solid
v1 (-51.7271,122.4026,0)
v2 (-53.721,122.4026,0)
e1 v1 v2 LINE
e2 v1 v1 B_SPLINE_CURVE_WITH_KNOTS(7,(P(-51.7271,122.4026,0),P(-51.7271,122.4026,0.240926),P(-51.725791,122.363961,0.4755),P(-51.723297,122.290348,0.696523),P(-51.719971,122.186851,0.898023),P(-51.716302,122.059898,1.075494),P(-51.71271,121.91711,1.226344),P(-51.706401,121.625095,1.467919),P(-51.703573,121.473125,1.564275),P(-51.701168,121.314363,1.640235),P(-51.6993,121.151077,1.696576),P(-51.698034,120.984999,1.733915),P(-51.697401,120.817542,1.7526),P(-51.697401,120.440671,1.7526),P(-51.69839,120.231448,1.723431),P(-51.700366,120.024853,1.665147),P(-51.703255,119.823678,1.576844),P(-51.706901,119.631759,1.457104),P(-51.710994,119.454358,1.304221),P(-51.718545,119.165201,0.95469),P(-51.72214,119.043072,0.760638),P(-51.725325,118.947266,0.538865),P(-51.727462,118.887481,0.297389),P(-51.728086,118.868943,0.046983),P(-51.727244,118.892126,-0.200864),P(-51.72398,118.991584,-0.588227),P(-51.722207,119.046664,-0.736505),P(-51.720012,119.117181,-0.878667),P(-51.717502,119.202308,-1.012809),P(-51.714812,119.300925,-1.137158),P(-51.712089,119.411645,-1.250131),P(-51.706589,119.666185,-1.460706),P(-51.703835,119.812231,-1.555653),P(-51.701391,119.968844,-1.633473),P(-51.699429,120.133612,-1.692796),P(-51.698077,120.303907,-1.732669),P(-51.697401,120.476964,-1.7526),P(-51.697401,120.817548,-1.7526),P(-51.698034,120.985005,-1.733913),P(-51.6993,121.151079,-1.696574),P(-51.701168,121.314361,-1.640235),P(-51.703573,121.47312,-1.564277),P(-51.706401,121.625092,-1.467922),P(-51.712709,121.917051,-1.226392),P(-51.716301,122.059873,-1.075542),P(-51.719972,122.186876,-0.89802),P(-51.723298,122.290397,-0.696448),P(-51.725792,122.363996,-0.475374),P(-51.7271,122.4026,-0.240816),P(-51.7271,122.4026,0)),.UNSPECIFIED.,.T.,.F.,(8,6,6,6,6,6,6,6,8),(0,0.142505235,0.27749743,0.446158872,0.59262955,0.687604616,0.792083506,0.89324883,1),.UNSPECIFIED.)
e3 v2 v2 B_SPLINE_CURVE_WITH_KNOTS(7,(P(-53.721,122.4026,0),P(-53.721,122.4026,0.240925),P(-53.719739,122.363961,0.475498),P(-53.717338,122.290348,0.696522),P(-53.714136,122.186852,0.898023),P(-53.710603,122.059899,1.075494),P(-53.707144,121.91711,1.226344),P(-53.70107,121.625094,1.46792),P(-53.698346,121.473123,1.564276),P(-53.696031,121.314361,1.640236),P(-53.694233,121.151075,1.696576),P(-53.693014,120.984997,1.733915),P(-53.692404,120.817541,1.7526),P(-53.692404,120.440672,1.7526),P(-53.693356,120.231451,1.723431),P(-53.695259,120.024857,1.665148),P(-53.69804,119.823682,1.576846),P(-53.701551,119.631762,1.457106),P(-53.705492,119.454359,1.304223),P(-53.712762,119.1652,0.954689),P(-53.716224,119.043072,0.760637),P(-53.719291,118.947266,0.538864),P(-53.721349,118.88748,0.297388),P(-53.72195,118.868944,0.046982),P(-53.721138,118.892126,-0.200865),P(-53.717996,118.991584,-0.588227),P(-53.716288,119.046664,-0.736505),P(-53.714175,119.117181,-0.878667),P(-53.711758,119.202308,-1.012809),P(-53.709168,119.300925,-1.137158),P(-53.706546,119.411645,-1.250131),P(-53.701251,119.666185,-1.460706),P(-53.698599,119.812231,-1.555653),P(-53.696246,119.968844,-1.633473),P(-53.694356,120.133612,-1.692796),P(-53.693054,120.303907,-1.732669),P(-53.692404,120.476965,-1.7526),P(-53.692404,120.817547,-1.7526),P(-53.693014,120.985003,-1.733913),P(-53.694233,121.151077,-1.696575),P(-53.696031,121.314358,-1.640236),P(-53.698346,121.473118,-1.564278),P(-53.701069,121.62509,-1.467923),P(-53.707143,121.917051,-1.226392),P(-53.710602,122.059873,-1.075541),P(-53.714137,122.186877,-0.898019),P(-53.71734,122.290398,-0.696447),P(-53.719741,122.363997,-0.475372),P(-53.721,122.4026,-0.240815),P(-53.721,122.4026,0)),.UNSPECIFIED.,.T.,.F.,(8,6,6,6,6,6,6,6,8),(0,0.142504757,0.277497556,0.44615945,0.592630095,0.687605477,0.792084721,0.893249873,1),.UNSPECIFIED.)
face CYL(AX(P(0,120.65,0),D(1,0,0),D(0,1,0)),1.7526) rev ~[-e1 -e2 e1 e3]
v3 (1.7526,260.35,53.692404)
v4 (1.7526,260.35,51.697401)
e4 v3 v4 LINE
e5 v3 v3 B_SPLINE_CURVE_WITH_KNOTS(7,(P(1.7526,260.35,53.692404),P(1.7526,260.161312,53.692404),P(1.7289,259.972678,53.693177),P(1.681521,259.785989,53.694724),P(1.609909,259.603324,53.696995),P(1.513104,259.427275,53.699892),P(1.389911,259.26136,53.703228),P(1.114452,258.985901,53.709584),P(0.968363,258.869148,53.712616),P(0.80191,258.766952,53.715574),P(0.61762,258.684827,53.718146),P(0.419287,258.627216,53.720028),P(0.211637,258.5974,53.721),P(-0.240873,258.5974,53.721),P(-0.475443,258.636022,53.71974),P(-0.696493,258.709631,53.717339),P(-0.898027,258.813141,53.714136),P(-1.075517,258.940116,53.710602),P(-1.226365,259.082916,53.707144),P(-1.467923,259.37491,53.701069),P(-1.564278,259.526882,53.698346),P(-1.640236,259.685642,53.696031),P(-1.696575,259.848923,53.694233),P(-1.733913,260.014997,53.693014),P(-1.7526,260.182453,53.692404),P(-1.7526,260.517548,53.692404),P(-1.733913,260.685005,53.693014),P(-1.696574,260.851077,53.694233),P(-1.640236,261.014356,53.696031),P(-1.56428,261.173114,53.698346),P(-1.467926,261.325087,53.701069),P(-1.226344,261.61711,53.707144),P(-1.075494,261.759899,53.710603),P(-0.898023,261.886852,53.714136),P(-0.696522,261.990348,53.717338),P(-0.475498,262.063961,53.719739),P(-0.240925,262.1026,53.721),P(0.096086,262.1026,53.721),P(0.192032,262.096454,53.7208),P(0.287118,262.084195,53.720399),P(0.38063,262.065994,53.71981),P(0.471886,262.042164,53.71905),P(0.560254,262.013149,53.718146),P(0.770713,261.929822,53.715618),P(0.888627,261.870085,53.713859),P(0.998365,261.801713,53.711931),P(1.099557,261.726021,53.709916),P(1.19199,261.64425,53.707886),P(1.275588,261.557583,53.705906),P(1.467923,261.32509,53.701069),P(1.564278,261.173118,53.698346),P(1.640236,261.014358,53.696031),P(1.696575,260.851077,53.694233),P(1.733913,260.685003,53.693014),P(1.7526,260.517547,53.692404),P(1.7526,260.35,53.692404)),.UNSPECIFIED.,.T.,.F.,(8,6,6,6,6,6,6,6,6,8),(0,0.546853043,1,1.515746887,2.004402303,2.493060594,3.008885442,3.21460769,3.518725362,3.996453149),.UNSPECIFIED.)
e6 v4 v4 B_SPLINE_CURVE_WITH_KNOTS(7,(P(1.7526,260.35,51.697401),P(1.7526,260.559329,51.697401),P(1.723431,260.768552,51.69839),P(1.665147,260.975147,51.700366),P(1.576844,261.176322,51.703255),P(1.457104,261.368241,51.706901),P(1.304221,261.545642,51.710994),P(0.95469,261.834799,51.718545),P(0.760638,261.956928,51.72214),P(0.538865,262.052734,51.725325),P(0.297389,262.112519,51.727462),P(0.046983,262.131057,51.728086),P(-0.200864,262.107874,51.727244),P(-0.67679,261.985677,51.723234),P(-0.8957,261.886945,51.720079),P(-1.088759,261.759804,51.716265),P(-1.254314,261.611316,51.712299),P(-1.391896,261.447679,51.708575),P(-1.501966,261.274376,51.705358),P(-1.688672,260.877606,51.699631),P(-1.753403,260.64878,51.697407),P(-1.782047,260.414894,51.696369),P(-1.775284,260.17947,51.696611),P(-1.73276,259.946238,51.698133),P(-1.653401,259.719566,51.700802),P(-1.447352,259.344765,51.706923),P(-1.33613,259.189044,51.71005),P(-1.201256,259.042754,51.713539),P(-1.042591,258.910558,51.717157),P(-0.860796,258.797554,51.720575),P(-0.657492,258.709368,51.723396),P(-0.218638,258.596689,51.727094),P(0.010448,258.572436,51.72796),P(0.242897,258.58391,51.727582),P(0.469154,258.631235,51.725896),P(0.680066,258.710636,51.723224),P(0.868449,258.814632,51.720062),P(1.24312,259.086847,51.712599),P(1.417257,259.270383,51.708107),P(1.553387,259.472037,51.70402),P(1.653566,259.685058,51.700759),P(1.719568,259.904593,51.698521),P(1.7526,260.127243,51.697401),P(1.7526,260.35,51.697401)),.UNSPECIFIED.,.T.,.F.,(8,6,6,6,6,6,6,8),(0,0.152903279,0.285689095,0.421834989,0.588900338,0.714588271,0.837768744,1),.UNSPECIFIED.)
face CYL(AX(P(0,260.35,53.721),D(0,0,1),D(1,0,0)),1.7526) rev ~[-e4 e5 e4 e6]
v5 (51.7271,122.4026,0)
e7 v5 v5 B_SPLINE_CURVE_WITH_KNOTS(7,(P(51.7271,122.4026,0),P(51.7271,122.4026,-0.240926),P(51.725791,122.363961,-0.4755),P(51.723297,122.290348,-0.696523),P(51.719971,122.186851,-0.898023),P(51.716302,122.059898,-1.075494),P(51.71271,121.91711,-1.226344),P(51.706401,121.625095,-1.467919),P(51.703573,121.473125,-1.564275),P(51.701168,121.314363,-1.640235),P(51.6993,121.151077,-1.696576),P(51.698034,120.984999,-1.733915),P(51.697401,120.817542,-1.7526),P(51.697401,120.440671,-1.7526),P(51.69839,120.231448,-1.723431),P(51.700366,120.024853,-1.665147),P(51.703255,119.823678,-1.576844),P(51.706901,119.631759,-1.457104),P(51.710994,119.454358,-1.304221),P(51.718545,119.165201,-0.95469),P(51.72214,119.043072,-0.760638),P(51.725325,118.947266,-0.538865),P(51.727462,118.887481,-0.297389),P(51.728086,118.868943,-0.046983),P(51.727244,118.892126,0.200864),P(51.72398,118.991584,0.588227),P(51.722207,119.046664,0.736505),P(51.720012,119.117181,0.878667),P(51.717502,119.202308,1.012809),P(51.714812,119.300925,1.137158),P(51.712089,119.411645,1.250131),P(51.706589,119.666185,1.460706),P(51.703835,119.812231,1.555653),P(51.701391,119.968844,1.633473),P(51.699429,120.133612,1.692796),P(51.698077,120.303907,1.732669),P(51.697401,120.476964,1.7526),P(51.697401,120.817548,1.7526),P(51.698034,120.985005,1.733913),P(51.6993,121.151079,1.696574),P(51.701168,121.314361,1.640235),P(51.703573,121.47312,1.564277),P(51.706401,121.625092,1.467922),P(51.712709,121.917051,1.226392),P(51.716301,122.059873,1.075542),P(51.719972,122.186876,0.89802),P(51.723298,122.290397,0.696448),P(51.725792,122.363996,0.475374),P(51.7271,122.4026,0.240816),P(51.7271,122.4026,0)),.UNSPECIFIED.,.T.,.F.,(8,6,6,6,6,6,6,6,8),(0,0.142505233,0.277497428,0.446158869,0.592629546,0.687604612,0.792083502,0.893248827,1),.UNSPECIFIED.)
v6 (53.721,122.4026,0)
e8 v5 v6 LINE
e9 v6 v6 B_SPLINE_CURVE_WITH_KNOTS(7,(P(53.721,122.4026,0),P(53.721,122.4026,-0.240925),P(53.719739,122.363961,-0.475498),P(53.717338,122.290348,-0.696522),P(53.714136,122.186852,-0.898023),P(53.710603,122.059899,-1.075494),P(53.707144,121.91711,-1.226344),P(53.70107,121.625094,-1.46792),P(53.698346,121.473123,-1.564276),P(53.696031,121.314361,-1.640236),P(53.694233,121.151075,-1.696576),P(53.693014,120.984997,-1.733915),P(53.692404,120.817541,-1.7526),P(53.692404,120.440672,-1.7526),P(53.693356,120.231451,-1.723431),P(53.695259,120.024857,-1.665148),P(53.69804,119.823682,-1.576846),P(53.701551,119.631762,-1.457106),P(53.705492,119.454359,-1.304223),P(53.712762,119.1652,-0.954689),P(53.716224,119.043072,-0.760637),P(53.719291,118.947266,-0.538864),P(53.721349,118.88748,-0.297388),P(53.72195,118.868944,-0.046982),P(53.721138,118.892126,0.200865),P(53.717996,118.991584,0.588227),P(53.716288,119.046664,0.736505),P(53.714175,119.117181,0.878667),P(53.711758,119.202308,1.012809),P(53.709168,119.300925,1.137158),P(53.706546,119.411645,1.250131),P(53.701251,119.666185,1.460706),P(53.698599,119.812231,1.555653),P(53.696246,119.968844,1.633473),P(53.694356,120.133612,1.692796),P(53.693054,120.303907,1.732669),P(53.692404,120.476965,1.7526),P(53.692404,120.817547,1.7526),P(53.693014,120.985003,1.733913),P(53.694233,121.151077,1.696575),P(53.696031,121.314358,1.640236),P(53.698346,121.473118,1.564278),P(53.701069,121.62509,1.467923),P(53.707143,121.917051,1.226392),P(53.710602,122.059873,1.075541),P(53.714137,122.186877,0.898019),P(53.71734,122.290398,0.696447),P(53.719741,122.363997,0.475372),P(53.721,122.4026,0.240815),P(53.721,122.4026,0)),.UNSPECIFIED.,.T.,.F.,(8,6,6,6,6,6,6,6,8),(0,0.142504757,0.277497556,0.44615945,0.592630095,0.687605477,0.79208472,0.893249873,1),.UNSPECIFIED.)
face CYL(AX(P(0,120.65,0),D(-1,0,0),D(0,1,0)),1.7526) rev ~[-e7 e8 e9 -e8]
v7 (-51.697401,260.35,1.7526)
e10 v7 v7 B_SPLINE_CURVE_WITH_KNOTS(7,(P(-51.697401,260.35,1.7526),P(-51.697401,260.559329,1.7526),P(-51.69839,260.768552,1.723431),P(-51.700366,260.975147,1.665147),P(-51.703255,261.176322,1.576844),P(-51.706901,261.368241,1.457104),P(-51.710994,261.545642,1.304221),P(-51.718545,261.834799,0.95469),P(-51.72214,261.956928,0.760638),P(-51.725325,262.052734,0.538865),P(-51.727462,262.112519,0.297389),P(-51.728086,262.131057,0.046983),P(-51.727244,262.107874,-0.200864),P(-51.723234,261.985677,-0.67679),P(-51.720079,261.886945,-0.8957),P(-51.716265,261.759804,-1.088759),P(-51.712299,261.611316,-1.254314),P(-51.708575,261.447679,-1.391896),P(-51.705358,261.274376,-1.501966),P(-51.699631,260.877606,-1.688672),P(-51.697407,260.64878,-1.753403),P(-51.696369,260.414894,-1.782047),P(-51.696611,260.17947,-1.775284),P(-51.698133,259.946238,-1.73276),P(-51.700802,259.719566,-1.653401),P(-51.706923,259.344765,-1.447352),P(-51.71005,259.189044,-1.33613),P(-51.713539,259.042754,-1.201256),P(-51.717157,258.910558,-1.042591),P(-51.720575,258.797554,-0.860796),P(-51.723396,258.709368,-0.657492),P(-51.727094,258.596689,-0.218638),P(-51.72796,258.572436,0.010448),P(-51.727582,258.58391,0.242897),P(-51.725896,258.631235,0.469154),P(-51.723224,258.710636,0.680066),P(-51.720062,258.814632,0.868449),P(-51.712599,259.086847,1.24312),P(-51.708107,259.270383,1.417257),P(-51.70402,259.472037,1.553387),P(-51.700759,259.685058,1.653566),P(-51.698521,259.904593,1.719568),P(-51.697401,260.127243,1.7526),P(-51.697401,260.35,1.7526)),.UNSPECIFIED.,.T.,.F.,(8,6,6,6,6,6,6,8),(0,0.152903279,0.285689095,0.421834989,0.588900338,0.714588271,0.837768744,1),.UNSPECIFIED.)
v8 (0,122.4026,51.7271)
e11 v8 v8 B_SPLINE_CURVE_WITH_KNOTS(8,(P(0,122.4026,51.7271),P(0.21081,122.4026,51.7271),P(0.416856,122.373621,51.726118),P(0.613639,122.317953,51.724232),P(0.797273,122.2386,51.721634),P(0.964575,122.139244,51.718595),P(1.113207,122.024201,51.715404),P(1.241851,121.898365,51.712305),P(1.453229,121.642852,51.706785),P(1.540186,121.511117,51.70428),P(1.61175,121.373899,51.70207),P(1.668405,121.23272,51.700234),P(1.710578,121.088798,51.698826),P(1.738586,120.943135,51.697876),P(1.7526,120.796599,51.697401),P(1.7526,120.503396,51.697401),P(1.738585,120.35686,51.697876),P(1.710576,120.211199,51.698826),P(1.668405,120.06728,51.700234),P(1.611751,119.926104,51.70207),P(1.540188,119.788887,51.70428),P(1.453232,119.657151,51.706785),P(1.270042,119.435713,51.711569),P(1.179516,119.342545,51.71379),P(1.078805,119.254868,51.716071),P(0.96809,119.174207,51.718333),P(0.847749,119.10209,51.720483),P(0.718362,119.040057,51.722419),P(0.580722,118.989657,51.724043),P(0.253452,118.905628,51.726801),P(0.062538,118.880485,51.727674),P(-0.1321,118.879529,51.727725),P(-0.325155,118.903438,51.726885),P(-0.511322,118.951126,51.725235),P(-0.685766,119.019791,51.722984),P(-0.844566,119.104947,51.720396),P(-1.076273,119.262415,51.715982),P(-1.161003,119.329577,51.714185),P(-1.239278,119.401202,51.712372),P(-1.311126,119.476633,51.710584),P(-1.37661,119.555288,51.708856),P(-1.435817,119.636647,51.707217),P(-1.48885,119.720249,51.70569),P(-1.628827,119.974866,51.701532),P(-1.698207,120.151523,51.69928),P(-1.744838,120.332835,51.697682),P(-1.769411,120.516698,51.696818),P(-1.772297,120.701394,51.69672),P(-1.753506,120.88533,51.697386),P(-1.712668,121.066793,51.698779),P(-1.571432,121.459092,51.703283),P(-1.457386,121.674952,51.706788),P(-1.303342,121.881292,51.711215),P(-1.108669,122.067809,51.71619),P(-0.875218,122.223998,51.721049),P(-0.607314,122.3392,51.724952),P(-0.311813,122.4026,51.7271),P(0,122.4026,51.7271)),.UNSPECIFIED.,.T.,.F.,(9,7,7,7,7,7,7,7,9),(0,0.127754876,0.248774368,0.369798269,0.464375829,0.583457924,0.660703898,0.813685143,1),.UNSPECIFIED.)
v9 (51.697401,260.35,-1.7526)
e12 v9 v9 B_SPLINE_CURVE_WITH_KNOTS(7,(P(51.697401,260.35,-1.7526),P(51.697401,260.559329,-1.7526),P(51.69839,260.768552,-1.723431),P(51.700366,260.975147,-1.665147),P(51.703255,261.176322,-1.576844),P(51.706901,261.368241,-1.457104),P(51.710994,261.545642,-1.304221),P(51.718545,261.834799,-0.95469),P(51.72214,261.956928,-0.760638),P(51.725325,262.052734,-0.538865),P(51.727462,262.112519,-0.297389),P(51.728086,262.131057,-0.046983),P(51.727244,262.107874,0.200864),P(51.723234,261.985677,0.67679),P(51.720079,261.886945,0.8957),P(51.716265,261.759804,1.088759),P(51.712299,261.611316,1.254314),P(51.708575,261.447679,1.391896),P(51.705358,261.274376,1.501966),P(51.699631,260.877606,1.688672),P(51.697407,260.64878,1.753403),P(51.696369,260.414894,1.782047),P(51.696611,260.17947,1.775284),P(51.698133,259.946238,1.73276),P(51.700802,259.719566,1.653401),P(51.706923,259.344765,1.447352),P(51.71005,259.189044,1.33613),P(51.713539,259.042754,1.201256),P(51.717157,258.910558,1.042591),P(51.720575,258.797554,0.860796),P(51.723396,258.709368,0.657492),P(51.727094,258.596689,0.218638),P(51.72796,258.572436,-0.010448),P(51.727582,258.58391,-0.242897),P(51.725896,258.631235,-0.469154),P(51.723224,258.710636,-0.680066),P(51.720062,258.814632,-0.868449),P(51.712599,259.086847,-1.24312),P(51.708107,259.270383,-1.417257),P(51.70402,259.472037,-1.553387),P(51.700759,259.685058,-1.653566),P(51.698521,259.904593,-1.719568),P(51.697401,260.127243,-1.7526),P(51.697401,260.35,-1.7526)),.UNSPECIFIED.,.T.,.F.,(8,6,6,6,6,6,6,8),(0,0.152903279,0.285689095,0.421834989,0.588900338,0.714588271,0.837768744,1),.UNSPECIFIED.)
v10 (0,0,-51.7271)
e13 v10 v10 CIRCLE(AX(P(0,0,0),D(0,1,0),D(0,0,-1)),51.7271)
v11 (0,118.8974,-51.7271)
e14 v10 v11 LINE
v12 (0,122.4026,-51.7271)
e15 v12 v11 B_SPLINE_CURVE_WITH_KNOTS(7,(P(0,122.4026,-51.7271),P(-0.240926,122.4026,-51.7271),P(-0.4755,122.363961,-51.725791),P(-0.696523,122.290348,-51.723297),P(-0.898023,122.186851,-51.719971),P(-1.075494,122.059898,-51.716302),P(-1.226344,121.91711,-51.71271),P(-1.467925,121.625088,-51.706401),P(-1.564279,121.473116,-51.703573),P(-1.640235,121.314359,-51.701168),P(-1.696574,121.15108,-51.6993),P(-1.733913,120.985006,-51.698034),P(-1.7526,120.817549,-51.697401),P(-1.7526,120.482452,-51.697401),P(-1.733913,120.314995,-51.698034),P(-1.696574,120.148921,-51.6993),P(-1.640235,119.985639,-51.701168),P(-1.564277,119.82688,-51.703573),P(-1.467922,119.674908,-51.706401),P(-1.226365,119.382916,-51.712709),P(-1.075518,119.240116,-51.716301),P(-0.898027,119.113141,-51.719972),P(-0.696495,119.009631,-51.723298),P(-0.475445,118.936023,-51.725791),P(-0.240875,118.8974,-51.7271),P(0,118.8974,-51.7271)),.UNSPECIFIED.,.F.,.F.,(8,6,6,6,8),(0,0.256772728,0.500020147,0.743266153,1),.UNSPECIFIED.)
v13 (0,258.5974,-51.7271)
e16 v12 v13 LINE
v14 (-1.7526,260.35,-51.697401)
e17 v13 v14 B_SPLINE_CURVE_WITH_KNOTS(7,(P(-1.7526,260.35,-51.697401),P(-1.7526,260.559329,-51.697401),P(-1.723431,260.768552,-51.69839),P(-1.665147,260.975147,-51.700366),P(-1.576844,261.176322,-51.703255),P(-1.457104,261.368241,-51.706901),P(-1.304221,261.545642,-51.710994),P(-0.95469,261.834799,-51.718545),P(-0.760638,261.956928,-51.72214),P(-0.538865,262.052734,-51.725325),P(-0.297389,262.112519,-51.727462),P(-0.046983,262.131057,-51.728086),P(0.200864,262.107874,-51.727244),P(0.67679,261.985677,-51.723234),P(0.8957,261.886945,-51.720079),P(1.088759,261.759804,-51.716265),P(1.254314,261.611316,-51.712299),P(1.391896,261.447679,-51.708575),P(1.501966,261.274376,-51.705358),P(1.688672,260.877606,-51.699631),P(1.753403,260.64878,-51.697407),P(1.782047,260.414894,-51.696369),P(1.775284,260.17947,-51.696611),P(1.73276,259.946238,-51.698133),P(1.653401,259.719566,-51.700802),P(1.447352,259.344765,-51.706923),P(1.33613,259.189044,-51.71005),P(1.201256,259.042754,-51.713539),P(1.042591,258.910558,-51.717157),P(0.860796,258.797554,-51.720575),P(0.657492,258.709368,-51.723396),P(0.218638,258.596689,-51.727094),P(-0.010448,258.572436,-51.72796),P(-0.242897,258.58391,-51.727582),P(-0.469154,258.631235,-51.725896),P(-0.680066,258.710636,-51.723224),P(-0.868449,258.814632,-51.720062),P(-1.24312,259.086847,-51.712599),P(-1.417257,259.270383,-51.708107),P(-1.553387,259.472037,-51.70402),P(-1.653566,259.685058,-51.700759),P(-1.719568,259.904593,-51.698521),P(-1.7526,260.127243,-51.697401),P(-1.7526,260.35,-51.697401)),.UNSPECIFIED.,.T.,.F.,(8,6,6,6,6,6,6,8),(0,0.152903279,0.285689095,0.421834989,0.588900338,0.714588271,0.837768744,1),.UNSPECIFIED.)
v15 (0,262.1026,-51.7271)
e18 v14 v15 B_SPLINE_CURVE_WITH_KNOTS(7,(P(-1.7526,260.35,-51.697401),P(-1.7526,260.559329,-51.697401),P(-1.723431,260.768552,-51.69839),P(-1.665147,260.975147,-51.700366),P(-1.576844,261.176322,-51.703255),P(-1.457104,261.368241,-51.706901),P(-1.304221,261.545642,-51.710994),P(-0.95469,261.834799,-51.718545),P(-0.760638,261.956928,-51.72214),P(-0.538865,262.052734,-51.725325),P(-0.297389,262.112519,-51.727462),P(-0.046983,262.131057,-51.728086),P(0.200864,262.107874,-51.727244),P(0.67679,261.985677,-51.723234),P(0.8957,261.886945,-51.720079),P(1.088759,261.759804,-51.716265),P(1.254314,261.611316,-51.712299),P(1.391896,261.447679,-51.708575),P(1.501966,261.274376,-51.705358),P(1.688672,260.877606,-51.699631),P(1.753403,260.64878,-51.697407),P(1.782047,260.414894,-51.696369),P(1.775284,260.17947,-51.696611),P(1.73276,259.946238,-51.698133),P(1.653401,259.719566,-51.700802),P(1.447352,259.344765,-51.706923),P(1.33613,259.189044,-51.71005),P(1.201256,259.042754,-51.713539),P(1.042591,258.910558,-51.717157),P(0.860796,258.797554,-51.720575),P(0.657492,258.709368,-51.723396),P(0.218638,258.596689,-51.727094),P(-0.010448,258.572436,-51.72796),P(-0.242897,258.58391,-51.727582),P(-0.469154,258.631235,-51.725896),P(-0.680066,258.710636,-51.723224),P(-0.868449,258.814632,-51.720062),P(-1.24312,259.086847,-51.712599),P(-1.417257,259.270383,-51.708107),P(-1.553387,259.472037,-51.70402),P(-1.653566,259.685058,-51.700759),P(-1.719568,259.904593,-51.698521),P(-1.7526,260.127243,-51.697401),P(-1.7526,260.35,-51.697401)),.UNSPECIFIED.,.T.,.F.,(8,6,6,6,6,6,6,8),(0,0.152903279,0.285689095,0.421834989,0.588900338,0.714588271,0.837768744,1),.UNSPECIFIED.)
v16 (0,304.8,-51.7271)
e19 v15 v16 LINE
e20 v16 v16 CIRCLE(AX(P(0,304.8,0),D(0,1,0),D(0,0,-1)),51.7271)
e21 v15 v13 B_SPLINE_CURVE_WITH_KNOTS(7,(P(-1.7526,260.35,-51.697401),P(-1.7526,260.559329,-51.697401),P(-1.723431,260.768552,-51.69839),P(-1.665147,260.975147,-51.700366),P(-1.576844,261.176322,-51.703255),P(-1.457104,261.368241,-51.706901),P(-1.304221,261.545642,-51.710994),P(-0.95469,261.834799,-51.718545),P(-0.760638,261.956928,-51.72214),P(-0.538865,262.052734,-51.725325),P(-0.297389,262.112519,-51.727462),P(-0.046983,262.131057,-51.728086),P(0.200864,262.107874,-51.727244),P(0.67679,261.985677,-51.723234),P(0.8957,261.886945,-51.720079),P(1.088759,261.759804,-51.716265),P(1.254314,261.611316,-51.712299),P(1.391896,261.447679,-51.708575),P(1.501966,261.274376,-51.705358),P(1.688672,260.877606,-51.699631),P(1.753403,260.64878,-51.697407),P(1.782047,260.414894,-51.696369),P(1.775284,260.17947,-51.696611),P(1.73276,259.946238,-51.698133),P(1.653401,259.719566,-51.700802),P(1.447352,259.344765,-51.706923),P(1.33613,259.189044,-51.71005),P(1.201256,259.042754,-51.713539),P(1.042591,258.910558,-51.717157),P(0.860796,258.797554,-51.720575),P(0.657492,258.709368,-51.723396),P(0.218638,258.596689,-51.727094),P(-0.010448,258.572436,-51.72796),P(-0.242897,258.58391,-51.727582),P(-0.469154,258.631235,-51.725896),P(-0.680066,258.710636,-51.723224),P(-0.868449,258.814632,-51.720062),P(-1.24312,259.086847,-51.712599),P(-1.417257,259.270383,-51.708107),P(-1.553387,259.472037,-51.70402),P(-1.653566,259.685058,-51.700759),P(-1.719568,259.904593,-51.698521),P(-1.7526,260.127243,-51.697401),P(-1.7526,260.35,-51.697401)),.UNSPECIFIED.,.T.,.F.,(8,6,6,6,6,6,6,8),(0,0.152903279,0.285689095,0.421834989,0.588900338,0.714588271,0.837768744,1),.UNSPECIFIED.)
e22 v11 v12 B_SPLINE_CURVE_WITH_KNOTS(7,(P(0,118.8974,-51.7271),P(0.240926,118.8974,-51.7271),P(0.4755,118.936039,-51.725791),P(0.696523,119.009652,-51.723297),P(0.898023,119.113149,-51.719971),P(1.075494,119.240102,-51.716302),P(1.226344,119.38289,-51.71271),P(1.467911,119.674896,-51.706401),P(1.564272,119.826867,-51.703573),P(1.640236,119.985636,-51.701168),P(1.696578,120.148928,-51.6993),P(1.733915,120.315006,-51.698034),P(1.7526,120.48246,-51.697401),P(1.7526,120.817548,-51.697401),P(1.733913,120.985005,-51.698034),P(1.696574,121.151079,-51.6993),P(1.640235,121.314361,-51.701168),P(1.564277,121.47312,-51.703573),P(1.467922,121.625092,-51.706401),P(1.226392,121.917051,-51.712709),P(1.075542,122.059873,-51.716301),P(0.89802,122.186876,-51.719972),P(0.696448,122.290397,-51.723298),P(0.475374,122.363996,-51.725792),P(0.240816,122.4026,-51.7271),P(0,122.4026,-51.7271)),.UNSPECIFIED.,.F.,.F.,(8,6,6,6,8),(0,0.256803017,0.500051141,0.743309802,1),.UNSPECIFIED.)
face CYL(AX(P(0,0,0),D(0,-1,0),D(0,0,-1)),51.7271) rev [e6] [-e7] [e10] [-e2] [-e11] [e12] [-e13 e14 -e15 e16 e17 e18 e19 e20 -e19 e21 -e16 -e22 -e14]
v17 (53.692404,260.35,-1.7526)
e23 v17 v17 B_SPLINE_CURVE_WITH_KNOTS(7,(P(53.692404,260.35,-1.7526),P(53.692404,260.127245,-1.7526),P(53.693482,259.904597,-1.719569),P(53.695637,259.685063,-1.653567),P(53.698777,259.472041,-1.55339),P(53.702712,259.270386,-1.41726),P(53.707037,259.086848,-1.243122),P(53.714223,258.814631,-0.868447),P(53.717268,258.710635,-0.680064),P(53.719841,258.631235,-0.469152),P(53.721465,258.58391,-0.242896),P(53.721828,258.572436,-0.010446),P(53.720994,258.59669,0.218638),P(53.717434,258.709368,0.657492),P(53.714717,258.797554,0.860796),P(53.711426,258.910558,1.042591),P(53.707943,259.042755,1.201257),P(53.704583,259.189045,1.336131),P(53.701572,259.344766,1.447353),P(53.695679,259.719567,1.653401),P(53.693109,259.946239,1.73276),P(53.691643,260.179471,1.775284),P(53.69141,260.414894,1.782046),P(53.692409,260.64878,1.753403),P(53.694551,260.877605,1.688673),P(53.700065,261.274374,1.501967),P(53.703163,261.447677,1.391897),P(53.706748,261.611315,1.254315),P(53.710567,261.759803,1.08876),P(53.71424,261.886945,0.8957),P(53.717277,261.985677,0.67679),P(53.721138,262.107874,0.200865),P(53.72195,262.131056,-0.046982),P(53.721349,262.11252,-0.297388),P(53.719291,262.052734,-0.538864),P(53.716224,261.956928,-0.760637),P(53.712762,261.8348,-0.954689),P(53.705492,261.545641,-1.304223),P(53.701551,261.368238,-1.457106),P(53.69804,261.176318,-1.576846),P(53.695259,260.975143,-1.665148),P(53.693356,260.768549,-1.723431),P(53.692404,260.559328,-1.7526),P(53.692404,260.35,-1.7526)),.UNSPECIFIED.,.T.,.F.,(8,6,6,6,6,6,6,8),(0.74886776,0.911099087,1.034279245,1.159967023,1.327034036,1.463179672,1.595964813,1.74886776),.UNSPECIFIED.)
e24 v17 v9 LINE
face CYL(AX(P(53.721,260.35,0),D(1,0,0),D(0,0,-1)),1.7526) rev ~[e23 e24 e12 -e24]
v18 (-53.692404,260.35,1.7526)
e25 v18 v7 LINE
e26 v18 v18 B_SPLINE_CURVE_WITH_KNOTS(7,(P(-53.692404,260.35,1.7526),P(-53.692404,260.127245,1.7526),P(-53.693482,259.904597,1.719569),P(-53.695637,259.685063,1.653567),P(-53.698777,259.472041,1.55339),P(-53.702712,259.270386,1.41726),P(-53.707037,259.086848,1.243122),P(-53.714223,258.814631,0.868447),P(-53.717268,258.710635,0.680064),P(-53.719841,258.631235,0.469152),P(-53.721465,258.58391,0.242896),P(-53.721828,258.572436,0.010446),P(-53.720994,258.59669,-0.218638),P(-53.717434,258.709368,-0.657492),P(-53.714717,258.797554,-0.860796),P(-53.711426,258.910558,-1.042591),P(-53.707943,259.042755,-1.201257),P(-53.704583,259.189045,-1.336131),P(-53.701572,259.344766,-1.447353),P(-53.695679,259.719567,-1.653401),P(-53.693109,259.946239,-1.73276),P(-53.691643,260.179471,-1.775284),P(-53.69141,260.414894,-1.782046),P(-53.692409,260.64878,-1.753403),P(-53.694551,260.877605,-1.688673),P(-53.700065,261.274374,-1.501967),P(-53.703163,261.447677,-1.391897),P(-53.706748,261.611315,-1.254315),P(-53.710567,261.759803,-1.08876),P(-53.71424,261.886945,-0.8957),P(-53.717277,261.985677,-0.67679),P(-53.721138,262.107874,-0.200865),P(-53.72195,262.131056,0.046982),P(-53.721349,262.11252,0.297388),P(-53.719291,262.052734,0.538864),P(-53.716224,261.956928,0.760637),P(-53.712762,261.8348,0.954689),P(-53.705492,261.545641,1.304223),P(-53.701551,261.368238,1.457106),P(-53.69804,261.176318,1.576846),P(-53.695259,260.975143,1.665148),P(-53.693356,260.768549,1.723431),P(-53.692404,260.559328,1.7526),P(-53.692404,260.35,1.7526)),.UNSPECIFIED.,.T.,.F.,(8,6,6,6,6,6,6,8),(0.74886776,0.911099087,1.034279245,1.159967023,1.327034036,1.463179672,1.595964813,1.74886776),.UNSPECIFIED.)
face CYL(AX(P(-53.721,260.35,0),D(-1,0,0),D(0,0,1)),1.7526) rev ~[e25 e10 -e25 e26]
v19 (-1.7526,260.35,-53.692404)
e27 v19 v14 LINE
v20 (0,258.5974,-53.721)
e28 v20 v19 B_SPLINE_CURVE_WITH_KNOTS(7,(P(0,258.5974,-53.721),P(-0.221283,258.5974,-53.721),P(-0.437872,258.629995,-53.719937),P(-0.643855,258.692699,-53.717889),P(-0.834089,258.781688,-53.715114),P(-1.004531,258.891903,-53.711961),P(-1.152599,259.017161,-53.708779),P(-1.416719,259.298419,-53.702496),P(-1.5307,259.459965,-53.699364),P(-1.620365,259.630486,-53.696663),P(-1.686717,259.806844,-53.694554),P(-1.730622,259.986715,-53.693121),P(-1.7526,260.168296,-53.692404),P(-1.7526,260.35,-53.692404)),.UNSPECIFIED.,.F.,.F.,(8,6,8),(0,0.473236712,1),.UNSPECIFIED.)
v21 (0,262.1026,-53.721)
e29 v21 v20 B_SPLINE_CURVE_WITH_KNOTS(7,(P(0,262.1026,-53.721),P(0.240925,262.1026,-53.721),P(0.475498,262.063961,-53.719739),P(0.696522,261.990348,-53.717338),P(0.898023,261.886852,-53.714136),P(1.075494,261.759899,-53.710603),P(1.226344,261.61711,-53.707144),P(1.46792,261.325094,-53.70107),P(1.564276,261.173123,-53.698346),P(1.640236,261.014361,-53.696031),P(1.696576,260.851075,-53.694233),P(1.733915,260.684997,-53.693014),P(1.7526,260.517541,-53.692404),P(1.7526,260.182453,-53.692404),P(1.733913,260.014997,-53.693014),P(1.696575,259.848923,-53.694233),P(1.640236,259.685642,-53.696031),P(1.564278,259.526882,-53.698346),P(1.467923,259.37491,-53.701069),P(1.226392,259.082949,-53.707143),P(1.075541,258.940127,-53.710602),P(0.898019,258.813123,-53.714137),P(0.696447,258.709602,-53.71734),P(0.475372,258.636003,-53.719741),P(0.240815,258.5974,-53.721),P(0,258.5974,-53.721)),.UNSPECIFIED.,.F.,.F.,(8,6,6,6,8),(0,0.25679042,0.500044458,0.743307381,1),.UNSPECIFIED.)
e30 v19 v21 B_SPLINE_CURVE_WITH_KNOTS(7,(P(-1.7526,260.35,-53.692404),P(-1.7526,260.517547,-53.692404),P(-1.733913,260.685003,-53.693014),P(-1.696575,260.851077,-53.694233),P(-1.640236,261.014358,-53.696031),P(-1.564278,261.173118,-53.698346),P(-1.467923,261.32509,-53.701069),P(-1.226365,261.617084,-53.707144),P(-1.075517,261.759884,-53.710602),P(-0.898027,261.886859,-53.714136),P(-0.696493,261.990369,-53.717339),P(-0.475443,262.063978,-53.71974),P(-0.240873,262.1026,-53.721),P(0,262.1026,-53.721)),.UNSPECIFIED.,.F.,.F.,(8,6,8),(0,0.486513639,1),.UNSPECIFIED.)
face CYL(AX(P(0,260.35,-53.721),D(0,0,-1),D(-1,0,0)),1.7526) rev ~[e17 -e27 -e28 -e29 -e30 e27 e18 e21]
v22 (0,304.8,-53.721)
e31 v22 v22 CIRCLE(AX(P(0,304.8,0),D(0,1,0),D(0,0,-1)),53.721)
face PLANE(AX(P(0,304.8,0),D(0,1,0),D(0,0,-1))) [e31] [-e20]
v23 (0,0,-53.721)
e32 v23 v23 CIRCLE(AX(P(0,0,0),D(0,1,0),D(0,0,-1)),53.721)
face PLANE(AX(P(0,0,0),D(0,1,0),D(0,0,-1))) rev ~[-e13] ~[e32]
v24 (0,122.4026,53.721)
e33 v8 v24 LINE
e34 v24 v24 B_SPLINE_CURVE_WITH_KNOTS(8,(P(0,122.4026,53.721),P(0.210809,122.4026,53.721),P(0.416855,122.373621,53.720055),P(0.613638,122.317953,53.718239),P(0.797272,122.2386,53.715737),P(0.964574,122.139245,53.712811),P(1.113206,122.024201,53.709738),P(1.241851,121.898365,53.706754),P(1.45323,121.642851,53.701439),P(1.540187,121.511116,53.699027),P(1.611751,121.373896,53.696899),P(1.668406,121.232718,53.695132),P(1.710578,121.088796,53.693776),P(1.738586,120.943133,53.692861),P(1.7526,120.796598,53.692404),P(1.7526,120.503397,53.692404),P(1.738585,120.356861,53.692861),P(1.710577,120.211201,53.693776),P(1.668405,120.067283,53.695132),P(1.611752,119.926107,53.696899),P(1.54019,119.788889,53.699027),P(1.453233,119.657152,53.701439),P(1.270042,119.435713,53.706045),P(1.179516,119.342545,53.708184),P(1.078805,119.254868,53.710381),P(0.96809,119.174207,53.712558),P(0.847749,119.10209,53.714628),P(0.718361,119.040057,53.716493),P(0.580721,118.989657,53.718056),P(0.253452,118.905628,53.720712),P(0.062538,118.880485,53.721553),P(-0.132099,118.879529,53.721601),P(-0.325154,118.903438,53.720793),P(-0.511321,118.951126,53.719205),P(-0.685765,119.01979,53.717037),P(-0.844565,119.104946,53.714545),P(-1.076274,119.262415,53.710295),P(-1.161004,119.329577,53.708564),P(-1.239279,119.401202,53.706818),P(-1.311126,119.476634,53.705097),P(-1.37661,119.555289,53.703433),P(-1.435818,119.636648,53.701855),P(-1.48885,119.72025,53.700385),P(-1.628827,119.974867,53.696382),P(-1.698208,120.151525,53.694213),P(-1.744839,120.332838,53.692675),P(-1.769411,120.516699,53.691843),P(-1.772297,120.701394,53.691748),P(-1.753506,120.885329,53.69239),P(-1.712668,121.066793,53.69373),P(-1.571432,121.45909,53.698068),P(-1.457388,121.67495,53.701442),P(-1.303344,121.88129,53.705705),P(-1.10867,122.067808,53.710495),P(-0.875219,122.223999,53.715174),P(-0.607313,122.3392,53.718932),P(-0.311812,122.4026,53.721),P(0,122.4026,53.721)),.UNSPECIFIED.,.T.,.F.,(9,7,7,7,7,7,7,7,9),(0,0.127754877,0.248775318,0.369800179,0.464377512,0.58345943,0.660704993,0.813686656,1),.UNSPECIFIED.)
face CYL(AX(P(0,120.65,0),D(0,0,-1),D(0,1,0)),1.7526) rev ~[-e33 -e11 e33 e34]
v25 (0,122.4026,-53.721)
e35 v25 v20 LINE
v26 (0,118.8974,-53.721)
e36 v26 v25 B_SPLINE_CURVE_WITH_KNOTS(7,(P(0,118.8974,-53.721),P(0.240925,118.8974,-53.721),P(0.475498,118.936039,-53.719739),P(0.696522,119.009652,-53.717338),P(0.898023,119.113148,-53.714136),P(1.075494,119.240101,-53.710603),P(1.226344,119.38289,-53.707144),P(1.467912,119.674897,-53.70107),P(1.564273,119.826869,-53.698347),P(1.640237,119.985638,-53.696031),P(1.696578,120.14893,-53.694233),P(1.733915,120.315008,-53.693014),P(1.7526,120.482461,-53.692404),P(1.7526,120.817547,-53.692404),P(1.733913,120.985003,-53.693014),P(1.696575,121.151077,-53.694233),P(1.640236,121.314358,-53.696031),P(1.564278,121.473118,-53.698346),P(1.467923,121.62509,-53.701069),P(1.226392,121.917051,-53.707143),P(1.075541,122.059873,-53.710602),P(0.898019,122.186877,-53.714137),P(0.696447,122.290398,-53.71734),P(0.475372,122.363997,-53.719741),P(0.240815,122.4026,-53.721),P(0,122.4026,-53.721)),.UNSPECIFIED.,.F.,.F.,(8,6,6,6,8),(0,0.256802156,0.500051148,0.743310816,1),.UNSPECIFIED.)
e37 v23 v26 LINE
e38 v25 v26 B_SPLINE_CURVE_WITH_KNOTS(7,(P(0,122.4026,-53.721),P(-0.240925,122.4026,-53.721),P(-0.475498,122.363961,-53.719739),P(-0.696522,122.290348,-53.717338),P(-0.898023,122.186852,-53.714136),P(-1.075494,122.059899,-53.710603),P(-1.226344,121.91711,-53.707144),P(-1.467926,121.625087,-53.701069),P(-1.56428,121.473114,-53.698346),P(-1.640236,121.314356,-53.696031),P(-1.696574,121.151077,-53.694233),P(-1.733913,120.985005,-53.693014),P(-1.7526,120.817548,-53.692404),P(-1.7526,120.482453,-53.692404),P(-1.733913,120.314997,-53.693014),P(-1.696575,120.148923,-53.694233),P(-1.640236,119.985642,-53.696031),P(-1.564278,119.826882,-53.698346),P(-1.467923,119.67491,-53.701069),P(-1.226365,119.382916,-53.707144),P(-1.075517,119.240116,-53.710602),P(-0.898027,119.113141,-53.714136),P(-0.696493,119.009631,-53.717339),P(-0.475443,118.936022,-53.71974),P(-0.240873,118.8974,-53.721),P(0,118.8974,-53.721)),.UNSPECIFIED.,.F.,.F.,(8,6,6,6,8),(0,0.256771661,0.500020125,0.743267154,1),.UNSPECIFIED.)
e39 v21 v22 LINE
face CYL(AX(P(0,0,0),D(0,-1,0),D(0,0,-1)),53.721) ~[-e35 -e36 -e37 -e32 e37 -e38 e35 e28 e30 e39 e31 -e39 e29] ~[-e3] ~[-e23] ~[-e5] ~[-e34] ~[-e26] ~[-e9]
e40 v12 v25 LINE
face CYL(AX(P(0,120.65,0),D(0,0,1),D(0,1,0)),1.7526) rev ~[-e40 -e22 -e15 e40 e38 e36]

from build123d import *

# Parameters (mm, degrees)
SKETCH1_R               = 53.721
SKETCH1_R_2             = 51.7271
BOSS_EXTRUDE1_DEPTH     = 304.8
SKETCH2_R               = 1.7526
BULKHEAD_HOLES_DEPTH    = 127
CIRPATTERN1_COUNT       = 4
CUT_EXTRUDE1_REACH      = 329.617
CUT_EXTRUDE1_END_RADIUS = 51.7271
SKETCH3_R               = 1.7526
CIRPATTERN2_COUNT       = 4


with BuildPart() as part:
    # Sketch1 → Boss-Extrude1 (new body)
    with BuildSketch(Plane(origin=(0, 0, 0), x_dir=(1, 0, 0), z_dir=(0, 1, 0))):
        with Locations(Location((0, 0, 0), (0, 0, 90))):
            Circle(SKETCH1_R)
        with Locations(Location((0, 0, 0), (0, 0, 90))):
            Circle(SKETCH1_R_2, mode=Mode.SUBTRACT)
    extrude(amount=BOSS_EXTRUDE1_DEPTH)

    # Sketch2 → Bulkhead Holes (cut)
    with BuildSketch(Plane.XY):
        with Locations(Location((0, 120.65, 0), (0, 0, 90))):
            Circle(SKETCH2_R)
    bulkhead_holes = extrude(amount=-BULKHEAD_HOLES_DEPTH, mode=Mode.SUBTRACT)

    # CirPattern1: Bulkhead Holes ×4 about axis
    cirpattern1_axis = Axis((0, 304.8, 0), (0, -1, 0))
    for i in range(1, CIRPATTERN1_COUNT):
        add(bulkhead_holes.rotate(cirpattern1_axis, i * 360 / CIRPATTERN1_COUNT), mode=Mode.SUBTRACT)

    # Cut-Extrude1: up to this cylinder (the profile starts outside it)
    cut_extrude1_end = Plane(origin=(0, 260.35, 0), z_dir=(0, -1, 0)) * Cylinder(CUT_EXTRUDE1_END_RADIUS, 763.6882, mode=Mode.PRIVATE)
    # Sketch3 → Cut-Extrude1 (cut, up to the surface)
    with BuildSketch(Plane(origin=(53.721, 0, 0), x_dir=(0, 0, -1), z_dir=(1, 0, 0)), mode=Mode.PRIVATE) as cut_extrude1_sk1:
        with Locations((0, 260.35)):
            Circle(SKETCH3_R)
    cut_extrude1_tool1 = extrude(cut_extrude1_sk1.sketch, amount=-CUT_EXTRUDE1_REACH, mode=Mode.PRIVATE) - cut_extrude1_end
    cut_extrude1 = cut_extrude1_tool1.solids().sort_by_distance((53.721, 260.35, 0))[0]
    add(cut_extrude1, mode=Mode.SUBTRACT)

    # CirPattern2: Cut-Extrude1 ×4 about axis
    cirpattern2_axis = Axis((0, 304.8, 0), (0, -1, 0))
    for i in range(1, CIRPATTERN2_COUNT):
        add(cut_extrude1.rotate(cirpattern2_axis, i * 360 / CIRPATTERN2_COUNT), mode=Mode.SUBTRACT)


solid = part.part
